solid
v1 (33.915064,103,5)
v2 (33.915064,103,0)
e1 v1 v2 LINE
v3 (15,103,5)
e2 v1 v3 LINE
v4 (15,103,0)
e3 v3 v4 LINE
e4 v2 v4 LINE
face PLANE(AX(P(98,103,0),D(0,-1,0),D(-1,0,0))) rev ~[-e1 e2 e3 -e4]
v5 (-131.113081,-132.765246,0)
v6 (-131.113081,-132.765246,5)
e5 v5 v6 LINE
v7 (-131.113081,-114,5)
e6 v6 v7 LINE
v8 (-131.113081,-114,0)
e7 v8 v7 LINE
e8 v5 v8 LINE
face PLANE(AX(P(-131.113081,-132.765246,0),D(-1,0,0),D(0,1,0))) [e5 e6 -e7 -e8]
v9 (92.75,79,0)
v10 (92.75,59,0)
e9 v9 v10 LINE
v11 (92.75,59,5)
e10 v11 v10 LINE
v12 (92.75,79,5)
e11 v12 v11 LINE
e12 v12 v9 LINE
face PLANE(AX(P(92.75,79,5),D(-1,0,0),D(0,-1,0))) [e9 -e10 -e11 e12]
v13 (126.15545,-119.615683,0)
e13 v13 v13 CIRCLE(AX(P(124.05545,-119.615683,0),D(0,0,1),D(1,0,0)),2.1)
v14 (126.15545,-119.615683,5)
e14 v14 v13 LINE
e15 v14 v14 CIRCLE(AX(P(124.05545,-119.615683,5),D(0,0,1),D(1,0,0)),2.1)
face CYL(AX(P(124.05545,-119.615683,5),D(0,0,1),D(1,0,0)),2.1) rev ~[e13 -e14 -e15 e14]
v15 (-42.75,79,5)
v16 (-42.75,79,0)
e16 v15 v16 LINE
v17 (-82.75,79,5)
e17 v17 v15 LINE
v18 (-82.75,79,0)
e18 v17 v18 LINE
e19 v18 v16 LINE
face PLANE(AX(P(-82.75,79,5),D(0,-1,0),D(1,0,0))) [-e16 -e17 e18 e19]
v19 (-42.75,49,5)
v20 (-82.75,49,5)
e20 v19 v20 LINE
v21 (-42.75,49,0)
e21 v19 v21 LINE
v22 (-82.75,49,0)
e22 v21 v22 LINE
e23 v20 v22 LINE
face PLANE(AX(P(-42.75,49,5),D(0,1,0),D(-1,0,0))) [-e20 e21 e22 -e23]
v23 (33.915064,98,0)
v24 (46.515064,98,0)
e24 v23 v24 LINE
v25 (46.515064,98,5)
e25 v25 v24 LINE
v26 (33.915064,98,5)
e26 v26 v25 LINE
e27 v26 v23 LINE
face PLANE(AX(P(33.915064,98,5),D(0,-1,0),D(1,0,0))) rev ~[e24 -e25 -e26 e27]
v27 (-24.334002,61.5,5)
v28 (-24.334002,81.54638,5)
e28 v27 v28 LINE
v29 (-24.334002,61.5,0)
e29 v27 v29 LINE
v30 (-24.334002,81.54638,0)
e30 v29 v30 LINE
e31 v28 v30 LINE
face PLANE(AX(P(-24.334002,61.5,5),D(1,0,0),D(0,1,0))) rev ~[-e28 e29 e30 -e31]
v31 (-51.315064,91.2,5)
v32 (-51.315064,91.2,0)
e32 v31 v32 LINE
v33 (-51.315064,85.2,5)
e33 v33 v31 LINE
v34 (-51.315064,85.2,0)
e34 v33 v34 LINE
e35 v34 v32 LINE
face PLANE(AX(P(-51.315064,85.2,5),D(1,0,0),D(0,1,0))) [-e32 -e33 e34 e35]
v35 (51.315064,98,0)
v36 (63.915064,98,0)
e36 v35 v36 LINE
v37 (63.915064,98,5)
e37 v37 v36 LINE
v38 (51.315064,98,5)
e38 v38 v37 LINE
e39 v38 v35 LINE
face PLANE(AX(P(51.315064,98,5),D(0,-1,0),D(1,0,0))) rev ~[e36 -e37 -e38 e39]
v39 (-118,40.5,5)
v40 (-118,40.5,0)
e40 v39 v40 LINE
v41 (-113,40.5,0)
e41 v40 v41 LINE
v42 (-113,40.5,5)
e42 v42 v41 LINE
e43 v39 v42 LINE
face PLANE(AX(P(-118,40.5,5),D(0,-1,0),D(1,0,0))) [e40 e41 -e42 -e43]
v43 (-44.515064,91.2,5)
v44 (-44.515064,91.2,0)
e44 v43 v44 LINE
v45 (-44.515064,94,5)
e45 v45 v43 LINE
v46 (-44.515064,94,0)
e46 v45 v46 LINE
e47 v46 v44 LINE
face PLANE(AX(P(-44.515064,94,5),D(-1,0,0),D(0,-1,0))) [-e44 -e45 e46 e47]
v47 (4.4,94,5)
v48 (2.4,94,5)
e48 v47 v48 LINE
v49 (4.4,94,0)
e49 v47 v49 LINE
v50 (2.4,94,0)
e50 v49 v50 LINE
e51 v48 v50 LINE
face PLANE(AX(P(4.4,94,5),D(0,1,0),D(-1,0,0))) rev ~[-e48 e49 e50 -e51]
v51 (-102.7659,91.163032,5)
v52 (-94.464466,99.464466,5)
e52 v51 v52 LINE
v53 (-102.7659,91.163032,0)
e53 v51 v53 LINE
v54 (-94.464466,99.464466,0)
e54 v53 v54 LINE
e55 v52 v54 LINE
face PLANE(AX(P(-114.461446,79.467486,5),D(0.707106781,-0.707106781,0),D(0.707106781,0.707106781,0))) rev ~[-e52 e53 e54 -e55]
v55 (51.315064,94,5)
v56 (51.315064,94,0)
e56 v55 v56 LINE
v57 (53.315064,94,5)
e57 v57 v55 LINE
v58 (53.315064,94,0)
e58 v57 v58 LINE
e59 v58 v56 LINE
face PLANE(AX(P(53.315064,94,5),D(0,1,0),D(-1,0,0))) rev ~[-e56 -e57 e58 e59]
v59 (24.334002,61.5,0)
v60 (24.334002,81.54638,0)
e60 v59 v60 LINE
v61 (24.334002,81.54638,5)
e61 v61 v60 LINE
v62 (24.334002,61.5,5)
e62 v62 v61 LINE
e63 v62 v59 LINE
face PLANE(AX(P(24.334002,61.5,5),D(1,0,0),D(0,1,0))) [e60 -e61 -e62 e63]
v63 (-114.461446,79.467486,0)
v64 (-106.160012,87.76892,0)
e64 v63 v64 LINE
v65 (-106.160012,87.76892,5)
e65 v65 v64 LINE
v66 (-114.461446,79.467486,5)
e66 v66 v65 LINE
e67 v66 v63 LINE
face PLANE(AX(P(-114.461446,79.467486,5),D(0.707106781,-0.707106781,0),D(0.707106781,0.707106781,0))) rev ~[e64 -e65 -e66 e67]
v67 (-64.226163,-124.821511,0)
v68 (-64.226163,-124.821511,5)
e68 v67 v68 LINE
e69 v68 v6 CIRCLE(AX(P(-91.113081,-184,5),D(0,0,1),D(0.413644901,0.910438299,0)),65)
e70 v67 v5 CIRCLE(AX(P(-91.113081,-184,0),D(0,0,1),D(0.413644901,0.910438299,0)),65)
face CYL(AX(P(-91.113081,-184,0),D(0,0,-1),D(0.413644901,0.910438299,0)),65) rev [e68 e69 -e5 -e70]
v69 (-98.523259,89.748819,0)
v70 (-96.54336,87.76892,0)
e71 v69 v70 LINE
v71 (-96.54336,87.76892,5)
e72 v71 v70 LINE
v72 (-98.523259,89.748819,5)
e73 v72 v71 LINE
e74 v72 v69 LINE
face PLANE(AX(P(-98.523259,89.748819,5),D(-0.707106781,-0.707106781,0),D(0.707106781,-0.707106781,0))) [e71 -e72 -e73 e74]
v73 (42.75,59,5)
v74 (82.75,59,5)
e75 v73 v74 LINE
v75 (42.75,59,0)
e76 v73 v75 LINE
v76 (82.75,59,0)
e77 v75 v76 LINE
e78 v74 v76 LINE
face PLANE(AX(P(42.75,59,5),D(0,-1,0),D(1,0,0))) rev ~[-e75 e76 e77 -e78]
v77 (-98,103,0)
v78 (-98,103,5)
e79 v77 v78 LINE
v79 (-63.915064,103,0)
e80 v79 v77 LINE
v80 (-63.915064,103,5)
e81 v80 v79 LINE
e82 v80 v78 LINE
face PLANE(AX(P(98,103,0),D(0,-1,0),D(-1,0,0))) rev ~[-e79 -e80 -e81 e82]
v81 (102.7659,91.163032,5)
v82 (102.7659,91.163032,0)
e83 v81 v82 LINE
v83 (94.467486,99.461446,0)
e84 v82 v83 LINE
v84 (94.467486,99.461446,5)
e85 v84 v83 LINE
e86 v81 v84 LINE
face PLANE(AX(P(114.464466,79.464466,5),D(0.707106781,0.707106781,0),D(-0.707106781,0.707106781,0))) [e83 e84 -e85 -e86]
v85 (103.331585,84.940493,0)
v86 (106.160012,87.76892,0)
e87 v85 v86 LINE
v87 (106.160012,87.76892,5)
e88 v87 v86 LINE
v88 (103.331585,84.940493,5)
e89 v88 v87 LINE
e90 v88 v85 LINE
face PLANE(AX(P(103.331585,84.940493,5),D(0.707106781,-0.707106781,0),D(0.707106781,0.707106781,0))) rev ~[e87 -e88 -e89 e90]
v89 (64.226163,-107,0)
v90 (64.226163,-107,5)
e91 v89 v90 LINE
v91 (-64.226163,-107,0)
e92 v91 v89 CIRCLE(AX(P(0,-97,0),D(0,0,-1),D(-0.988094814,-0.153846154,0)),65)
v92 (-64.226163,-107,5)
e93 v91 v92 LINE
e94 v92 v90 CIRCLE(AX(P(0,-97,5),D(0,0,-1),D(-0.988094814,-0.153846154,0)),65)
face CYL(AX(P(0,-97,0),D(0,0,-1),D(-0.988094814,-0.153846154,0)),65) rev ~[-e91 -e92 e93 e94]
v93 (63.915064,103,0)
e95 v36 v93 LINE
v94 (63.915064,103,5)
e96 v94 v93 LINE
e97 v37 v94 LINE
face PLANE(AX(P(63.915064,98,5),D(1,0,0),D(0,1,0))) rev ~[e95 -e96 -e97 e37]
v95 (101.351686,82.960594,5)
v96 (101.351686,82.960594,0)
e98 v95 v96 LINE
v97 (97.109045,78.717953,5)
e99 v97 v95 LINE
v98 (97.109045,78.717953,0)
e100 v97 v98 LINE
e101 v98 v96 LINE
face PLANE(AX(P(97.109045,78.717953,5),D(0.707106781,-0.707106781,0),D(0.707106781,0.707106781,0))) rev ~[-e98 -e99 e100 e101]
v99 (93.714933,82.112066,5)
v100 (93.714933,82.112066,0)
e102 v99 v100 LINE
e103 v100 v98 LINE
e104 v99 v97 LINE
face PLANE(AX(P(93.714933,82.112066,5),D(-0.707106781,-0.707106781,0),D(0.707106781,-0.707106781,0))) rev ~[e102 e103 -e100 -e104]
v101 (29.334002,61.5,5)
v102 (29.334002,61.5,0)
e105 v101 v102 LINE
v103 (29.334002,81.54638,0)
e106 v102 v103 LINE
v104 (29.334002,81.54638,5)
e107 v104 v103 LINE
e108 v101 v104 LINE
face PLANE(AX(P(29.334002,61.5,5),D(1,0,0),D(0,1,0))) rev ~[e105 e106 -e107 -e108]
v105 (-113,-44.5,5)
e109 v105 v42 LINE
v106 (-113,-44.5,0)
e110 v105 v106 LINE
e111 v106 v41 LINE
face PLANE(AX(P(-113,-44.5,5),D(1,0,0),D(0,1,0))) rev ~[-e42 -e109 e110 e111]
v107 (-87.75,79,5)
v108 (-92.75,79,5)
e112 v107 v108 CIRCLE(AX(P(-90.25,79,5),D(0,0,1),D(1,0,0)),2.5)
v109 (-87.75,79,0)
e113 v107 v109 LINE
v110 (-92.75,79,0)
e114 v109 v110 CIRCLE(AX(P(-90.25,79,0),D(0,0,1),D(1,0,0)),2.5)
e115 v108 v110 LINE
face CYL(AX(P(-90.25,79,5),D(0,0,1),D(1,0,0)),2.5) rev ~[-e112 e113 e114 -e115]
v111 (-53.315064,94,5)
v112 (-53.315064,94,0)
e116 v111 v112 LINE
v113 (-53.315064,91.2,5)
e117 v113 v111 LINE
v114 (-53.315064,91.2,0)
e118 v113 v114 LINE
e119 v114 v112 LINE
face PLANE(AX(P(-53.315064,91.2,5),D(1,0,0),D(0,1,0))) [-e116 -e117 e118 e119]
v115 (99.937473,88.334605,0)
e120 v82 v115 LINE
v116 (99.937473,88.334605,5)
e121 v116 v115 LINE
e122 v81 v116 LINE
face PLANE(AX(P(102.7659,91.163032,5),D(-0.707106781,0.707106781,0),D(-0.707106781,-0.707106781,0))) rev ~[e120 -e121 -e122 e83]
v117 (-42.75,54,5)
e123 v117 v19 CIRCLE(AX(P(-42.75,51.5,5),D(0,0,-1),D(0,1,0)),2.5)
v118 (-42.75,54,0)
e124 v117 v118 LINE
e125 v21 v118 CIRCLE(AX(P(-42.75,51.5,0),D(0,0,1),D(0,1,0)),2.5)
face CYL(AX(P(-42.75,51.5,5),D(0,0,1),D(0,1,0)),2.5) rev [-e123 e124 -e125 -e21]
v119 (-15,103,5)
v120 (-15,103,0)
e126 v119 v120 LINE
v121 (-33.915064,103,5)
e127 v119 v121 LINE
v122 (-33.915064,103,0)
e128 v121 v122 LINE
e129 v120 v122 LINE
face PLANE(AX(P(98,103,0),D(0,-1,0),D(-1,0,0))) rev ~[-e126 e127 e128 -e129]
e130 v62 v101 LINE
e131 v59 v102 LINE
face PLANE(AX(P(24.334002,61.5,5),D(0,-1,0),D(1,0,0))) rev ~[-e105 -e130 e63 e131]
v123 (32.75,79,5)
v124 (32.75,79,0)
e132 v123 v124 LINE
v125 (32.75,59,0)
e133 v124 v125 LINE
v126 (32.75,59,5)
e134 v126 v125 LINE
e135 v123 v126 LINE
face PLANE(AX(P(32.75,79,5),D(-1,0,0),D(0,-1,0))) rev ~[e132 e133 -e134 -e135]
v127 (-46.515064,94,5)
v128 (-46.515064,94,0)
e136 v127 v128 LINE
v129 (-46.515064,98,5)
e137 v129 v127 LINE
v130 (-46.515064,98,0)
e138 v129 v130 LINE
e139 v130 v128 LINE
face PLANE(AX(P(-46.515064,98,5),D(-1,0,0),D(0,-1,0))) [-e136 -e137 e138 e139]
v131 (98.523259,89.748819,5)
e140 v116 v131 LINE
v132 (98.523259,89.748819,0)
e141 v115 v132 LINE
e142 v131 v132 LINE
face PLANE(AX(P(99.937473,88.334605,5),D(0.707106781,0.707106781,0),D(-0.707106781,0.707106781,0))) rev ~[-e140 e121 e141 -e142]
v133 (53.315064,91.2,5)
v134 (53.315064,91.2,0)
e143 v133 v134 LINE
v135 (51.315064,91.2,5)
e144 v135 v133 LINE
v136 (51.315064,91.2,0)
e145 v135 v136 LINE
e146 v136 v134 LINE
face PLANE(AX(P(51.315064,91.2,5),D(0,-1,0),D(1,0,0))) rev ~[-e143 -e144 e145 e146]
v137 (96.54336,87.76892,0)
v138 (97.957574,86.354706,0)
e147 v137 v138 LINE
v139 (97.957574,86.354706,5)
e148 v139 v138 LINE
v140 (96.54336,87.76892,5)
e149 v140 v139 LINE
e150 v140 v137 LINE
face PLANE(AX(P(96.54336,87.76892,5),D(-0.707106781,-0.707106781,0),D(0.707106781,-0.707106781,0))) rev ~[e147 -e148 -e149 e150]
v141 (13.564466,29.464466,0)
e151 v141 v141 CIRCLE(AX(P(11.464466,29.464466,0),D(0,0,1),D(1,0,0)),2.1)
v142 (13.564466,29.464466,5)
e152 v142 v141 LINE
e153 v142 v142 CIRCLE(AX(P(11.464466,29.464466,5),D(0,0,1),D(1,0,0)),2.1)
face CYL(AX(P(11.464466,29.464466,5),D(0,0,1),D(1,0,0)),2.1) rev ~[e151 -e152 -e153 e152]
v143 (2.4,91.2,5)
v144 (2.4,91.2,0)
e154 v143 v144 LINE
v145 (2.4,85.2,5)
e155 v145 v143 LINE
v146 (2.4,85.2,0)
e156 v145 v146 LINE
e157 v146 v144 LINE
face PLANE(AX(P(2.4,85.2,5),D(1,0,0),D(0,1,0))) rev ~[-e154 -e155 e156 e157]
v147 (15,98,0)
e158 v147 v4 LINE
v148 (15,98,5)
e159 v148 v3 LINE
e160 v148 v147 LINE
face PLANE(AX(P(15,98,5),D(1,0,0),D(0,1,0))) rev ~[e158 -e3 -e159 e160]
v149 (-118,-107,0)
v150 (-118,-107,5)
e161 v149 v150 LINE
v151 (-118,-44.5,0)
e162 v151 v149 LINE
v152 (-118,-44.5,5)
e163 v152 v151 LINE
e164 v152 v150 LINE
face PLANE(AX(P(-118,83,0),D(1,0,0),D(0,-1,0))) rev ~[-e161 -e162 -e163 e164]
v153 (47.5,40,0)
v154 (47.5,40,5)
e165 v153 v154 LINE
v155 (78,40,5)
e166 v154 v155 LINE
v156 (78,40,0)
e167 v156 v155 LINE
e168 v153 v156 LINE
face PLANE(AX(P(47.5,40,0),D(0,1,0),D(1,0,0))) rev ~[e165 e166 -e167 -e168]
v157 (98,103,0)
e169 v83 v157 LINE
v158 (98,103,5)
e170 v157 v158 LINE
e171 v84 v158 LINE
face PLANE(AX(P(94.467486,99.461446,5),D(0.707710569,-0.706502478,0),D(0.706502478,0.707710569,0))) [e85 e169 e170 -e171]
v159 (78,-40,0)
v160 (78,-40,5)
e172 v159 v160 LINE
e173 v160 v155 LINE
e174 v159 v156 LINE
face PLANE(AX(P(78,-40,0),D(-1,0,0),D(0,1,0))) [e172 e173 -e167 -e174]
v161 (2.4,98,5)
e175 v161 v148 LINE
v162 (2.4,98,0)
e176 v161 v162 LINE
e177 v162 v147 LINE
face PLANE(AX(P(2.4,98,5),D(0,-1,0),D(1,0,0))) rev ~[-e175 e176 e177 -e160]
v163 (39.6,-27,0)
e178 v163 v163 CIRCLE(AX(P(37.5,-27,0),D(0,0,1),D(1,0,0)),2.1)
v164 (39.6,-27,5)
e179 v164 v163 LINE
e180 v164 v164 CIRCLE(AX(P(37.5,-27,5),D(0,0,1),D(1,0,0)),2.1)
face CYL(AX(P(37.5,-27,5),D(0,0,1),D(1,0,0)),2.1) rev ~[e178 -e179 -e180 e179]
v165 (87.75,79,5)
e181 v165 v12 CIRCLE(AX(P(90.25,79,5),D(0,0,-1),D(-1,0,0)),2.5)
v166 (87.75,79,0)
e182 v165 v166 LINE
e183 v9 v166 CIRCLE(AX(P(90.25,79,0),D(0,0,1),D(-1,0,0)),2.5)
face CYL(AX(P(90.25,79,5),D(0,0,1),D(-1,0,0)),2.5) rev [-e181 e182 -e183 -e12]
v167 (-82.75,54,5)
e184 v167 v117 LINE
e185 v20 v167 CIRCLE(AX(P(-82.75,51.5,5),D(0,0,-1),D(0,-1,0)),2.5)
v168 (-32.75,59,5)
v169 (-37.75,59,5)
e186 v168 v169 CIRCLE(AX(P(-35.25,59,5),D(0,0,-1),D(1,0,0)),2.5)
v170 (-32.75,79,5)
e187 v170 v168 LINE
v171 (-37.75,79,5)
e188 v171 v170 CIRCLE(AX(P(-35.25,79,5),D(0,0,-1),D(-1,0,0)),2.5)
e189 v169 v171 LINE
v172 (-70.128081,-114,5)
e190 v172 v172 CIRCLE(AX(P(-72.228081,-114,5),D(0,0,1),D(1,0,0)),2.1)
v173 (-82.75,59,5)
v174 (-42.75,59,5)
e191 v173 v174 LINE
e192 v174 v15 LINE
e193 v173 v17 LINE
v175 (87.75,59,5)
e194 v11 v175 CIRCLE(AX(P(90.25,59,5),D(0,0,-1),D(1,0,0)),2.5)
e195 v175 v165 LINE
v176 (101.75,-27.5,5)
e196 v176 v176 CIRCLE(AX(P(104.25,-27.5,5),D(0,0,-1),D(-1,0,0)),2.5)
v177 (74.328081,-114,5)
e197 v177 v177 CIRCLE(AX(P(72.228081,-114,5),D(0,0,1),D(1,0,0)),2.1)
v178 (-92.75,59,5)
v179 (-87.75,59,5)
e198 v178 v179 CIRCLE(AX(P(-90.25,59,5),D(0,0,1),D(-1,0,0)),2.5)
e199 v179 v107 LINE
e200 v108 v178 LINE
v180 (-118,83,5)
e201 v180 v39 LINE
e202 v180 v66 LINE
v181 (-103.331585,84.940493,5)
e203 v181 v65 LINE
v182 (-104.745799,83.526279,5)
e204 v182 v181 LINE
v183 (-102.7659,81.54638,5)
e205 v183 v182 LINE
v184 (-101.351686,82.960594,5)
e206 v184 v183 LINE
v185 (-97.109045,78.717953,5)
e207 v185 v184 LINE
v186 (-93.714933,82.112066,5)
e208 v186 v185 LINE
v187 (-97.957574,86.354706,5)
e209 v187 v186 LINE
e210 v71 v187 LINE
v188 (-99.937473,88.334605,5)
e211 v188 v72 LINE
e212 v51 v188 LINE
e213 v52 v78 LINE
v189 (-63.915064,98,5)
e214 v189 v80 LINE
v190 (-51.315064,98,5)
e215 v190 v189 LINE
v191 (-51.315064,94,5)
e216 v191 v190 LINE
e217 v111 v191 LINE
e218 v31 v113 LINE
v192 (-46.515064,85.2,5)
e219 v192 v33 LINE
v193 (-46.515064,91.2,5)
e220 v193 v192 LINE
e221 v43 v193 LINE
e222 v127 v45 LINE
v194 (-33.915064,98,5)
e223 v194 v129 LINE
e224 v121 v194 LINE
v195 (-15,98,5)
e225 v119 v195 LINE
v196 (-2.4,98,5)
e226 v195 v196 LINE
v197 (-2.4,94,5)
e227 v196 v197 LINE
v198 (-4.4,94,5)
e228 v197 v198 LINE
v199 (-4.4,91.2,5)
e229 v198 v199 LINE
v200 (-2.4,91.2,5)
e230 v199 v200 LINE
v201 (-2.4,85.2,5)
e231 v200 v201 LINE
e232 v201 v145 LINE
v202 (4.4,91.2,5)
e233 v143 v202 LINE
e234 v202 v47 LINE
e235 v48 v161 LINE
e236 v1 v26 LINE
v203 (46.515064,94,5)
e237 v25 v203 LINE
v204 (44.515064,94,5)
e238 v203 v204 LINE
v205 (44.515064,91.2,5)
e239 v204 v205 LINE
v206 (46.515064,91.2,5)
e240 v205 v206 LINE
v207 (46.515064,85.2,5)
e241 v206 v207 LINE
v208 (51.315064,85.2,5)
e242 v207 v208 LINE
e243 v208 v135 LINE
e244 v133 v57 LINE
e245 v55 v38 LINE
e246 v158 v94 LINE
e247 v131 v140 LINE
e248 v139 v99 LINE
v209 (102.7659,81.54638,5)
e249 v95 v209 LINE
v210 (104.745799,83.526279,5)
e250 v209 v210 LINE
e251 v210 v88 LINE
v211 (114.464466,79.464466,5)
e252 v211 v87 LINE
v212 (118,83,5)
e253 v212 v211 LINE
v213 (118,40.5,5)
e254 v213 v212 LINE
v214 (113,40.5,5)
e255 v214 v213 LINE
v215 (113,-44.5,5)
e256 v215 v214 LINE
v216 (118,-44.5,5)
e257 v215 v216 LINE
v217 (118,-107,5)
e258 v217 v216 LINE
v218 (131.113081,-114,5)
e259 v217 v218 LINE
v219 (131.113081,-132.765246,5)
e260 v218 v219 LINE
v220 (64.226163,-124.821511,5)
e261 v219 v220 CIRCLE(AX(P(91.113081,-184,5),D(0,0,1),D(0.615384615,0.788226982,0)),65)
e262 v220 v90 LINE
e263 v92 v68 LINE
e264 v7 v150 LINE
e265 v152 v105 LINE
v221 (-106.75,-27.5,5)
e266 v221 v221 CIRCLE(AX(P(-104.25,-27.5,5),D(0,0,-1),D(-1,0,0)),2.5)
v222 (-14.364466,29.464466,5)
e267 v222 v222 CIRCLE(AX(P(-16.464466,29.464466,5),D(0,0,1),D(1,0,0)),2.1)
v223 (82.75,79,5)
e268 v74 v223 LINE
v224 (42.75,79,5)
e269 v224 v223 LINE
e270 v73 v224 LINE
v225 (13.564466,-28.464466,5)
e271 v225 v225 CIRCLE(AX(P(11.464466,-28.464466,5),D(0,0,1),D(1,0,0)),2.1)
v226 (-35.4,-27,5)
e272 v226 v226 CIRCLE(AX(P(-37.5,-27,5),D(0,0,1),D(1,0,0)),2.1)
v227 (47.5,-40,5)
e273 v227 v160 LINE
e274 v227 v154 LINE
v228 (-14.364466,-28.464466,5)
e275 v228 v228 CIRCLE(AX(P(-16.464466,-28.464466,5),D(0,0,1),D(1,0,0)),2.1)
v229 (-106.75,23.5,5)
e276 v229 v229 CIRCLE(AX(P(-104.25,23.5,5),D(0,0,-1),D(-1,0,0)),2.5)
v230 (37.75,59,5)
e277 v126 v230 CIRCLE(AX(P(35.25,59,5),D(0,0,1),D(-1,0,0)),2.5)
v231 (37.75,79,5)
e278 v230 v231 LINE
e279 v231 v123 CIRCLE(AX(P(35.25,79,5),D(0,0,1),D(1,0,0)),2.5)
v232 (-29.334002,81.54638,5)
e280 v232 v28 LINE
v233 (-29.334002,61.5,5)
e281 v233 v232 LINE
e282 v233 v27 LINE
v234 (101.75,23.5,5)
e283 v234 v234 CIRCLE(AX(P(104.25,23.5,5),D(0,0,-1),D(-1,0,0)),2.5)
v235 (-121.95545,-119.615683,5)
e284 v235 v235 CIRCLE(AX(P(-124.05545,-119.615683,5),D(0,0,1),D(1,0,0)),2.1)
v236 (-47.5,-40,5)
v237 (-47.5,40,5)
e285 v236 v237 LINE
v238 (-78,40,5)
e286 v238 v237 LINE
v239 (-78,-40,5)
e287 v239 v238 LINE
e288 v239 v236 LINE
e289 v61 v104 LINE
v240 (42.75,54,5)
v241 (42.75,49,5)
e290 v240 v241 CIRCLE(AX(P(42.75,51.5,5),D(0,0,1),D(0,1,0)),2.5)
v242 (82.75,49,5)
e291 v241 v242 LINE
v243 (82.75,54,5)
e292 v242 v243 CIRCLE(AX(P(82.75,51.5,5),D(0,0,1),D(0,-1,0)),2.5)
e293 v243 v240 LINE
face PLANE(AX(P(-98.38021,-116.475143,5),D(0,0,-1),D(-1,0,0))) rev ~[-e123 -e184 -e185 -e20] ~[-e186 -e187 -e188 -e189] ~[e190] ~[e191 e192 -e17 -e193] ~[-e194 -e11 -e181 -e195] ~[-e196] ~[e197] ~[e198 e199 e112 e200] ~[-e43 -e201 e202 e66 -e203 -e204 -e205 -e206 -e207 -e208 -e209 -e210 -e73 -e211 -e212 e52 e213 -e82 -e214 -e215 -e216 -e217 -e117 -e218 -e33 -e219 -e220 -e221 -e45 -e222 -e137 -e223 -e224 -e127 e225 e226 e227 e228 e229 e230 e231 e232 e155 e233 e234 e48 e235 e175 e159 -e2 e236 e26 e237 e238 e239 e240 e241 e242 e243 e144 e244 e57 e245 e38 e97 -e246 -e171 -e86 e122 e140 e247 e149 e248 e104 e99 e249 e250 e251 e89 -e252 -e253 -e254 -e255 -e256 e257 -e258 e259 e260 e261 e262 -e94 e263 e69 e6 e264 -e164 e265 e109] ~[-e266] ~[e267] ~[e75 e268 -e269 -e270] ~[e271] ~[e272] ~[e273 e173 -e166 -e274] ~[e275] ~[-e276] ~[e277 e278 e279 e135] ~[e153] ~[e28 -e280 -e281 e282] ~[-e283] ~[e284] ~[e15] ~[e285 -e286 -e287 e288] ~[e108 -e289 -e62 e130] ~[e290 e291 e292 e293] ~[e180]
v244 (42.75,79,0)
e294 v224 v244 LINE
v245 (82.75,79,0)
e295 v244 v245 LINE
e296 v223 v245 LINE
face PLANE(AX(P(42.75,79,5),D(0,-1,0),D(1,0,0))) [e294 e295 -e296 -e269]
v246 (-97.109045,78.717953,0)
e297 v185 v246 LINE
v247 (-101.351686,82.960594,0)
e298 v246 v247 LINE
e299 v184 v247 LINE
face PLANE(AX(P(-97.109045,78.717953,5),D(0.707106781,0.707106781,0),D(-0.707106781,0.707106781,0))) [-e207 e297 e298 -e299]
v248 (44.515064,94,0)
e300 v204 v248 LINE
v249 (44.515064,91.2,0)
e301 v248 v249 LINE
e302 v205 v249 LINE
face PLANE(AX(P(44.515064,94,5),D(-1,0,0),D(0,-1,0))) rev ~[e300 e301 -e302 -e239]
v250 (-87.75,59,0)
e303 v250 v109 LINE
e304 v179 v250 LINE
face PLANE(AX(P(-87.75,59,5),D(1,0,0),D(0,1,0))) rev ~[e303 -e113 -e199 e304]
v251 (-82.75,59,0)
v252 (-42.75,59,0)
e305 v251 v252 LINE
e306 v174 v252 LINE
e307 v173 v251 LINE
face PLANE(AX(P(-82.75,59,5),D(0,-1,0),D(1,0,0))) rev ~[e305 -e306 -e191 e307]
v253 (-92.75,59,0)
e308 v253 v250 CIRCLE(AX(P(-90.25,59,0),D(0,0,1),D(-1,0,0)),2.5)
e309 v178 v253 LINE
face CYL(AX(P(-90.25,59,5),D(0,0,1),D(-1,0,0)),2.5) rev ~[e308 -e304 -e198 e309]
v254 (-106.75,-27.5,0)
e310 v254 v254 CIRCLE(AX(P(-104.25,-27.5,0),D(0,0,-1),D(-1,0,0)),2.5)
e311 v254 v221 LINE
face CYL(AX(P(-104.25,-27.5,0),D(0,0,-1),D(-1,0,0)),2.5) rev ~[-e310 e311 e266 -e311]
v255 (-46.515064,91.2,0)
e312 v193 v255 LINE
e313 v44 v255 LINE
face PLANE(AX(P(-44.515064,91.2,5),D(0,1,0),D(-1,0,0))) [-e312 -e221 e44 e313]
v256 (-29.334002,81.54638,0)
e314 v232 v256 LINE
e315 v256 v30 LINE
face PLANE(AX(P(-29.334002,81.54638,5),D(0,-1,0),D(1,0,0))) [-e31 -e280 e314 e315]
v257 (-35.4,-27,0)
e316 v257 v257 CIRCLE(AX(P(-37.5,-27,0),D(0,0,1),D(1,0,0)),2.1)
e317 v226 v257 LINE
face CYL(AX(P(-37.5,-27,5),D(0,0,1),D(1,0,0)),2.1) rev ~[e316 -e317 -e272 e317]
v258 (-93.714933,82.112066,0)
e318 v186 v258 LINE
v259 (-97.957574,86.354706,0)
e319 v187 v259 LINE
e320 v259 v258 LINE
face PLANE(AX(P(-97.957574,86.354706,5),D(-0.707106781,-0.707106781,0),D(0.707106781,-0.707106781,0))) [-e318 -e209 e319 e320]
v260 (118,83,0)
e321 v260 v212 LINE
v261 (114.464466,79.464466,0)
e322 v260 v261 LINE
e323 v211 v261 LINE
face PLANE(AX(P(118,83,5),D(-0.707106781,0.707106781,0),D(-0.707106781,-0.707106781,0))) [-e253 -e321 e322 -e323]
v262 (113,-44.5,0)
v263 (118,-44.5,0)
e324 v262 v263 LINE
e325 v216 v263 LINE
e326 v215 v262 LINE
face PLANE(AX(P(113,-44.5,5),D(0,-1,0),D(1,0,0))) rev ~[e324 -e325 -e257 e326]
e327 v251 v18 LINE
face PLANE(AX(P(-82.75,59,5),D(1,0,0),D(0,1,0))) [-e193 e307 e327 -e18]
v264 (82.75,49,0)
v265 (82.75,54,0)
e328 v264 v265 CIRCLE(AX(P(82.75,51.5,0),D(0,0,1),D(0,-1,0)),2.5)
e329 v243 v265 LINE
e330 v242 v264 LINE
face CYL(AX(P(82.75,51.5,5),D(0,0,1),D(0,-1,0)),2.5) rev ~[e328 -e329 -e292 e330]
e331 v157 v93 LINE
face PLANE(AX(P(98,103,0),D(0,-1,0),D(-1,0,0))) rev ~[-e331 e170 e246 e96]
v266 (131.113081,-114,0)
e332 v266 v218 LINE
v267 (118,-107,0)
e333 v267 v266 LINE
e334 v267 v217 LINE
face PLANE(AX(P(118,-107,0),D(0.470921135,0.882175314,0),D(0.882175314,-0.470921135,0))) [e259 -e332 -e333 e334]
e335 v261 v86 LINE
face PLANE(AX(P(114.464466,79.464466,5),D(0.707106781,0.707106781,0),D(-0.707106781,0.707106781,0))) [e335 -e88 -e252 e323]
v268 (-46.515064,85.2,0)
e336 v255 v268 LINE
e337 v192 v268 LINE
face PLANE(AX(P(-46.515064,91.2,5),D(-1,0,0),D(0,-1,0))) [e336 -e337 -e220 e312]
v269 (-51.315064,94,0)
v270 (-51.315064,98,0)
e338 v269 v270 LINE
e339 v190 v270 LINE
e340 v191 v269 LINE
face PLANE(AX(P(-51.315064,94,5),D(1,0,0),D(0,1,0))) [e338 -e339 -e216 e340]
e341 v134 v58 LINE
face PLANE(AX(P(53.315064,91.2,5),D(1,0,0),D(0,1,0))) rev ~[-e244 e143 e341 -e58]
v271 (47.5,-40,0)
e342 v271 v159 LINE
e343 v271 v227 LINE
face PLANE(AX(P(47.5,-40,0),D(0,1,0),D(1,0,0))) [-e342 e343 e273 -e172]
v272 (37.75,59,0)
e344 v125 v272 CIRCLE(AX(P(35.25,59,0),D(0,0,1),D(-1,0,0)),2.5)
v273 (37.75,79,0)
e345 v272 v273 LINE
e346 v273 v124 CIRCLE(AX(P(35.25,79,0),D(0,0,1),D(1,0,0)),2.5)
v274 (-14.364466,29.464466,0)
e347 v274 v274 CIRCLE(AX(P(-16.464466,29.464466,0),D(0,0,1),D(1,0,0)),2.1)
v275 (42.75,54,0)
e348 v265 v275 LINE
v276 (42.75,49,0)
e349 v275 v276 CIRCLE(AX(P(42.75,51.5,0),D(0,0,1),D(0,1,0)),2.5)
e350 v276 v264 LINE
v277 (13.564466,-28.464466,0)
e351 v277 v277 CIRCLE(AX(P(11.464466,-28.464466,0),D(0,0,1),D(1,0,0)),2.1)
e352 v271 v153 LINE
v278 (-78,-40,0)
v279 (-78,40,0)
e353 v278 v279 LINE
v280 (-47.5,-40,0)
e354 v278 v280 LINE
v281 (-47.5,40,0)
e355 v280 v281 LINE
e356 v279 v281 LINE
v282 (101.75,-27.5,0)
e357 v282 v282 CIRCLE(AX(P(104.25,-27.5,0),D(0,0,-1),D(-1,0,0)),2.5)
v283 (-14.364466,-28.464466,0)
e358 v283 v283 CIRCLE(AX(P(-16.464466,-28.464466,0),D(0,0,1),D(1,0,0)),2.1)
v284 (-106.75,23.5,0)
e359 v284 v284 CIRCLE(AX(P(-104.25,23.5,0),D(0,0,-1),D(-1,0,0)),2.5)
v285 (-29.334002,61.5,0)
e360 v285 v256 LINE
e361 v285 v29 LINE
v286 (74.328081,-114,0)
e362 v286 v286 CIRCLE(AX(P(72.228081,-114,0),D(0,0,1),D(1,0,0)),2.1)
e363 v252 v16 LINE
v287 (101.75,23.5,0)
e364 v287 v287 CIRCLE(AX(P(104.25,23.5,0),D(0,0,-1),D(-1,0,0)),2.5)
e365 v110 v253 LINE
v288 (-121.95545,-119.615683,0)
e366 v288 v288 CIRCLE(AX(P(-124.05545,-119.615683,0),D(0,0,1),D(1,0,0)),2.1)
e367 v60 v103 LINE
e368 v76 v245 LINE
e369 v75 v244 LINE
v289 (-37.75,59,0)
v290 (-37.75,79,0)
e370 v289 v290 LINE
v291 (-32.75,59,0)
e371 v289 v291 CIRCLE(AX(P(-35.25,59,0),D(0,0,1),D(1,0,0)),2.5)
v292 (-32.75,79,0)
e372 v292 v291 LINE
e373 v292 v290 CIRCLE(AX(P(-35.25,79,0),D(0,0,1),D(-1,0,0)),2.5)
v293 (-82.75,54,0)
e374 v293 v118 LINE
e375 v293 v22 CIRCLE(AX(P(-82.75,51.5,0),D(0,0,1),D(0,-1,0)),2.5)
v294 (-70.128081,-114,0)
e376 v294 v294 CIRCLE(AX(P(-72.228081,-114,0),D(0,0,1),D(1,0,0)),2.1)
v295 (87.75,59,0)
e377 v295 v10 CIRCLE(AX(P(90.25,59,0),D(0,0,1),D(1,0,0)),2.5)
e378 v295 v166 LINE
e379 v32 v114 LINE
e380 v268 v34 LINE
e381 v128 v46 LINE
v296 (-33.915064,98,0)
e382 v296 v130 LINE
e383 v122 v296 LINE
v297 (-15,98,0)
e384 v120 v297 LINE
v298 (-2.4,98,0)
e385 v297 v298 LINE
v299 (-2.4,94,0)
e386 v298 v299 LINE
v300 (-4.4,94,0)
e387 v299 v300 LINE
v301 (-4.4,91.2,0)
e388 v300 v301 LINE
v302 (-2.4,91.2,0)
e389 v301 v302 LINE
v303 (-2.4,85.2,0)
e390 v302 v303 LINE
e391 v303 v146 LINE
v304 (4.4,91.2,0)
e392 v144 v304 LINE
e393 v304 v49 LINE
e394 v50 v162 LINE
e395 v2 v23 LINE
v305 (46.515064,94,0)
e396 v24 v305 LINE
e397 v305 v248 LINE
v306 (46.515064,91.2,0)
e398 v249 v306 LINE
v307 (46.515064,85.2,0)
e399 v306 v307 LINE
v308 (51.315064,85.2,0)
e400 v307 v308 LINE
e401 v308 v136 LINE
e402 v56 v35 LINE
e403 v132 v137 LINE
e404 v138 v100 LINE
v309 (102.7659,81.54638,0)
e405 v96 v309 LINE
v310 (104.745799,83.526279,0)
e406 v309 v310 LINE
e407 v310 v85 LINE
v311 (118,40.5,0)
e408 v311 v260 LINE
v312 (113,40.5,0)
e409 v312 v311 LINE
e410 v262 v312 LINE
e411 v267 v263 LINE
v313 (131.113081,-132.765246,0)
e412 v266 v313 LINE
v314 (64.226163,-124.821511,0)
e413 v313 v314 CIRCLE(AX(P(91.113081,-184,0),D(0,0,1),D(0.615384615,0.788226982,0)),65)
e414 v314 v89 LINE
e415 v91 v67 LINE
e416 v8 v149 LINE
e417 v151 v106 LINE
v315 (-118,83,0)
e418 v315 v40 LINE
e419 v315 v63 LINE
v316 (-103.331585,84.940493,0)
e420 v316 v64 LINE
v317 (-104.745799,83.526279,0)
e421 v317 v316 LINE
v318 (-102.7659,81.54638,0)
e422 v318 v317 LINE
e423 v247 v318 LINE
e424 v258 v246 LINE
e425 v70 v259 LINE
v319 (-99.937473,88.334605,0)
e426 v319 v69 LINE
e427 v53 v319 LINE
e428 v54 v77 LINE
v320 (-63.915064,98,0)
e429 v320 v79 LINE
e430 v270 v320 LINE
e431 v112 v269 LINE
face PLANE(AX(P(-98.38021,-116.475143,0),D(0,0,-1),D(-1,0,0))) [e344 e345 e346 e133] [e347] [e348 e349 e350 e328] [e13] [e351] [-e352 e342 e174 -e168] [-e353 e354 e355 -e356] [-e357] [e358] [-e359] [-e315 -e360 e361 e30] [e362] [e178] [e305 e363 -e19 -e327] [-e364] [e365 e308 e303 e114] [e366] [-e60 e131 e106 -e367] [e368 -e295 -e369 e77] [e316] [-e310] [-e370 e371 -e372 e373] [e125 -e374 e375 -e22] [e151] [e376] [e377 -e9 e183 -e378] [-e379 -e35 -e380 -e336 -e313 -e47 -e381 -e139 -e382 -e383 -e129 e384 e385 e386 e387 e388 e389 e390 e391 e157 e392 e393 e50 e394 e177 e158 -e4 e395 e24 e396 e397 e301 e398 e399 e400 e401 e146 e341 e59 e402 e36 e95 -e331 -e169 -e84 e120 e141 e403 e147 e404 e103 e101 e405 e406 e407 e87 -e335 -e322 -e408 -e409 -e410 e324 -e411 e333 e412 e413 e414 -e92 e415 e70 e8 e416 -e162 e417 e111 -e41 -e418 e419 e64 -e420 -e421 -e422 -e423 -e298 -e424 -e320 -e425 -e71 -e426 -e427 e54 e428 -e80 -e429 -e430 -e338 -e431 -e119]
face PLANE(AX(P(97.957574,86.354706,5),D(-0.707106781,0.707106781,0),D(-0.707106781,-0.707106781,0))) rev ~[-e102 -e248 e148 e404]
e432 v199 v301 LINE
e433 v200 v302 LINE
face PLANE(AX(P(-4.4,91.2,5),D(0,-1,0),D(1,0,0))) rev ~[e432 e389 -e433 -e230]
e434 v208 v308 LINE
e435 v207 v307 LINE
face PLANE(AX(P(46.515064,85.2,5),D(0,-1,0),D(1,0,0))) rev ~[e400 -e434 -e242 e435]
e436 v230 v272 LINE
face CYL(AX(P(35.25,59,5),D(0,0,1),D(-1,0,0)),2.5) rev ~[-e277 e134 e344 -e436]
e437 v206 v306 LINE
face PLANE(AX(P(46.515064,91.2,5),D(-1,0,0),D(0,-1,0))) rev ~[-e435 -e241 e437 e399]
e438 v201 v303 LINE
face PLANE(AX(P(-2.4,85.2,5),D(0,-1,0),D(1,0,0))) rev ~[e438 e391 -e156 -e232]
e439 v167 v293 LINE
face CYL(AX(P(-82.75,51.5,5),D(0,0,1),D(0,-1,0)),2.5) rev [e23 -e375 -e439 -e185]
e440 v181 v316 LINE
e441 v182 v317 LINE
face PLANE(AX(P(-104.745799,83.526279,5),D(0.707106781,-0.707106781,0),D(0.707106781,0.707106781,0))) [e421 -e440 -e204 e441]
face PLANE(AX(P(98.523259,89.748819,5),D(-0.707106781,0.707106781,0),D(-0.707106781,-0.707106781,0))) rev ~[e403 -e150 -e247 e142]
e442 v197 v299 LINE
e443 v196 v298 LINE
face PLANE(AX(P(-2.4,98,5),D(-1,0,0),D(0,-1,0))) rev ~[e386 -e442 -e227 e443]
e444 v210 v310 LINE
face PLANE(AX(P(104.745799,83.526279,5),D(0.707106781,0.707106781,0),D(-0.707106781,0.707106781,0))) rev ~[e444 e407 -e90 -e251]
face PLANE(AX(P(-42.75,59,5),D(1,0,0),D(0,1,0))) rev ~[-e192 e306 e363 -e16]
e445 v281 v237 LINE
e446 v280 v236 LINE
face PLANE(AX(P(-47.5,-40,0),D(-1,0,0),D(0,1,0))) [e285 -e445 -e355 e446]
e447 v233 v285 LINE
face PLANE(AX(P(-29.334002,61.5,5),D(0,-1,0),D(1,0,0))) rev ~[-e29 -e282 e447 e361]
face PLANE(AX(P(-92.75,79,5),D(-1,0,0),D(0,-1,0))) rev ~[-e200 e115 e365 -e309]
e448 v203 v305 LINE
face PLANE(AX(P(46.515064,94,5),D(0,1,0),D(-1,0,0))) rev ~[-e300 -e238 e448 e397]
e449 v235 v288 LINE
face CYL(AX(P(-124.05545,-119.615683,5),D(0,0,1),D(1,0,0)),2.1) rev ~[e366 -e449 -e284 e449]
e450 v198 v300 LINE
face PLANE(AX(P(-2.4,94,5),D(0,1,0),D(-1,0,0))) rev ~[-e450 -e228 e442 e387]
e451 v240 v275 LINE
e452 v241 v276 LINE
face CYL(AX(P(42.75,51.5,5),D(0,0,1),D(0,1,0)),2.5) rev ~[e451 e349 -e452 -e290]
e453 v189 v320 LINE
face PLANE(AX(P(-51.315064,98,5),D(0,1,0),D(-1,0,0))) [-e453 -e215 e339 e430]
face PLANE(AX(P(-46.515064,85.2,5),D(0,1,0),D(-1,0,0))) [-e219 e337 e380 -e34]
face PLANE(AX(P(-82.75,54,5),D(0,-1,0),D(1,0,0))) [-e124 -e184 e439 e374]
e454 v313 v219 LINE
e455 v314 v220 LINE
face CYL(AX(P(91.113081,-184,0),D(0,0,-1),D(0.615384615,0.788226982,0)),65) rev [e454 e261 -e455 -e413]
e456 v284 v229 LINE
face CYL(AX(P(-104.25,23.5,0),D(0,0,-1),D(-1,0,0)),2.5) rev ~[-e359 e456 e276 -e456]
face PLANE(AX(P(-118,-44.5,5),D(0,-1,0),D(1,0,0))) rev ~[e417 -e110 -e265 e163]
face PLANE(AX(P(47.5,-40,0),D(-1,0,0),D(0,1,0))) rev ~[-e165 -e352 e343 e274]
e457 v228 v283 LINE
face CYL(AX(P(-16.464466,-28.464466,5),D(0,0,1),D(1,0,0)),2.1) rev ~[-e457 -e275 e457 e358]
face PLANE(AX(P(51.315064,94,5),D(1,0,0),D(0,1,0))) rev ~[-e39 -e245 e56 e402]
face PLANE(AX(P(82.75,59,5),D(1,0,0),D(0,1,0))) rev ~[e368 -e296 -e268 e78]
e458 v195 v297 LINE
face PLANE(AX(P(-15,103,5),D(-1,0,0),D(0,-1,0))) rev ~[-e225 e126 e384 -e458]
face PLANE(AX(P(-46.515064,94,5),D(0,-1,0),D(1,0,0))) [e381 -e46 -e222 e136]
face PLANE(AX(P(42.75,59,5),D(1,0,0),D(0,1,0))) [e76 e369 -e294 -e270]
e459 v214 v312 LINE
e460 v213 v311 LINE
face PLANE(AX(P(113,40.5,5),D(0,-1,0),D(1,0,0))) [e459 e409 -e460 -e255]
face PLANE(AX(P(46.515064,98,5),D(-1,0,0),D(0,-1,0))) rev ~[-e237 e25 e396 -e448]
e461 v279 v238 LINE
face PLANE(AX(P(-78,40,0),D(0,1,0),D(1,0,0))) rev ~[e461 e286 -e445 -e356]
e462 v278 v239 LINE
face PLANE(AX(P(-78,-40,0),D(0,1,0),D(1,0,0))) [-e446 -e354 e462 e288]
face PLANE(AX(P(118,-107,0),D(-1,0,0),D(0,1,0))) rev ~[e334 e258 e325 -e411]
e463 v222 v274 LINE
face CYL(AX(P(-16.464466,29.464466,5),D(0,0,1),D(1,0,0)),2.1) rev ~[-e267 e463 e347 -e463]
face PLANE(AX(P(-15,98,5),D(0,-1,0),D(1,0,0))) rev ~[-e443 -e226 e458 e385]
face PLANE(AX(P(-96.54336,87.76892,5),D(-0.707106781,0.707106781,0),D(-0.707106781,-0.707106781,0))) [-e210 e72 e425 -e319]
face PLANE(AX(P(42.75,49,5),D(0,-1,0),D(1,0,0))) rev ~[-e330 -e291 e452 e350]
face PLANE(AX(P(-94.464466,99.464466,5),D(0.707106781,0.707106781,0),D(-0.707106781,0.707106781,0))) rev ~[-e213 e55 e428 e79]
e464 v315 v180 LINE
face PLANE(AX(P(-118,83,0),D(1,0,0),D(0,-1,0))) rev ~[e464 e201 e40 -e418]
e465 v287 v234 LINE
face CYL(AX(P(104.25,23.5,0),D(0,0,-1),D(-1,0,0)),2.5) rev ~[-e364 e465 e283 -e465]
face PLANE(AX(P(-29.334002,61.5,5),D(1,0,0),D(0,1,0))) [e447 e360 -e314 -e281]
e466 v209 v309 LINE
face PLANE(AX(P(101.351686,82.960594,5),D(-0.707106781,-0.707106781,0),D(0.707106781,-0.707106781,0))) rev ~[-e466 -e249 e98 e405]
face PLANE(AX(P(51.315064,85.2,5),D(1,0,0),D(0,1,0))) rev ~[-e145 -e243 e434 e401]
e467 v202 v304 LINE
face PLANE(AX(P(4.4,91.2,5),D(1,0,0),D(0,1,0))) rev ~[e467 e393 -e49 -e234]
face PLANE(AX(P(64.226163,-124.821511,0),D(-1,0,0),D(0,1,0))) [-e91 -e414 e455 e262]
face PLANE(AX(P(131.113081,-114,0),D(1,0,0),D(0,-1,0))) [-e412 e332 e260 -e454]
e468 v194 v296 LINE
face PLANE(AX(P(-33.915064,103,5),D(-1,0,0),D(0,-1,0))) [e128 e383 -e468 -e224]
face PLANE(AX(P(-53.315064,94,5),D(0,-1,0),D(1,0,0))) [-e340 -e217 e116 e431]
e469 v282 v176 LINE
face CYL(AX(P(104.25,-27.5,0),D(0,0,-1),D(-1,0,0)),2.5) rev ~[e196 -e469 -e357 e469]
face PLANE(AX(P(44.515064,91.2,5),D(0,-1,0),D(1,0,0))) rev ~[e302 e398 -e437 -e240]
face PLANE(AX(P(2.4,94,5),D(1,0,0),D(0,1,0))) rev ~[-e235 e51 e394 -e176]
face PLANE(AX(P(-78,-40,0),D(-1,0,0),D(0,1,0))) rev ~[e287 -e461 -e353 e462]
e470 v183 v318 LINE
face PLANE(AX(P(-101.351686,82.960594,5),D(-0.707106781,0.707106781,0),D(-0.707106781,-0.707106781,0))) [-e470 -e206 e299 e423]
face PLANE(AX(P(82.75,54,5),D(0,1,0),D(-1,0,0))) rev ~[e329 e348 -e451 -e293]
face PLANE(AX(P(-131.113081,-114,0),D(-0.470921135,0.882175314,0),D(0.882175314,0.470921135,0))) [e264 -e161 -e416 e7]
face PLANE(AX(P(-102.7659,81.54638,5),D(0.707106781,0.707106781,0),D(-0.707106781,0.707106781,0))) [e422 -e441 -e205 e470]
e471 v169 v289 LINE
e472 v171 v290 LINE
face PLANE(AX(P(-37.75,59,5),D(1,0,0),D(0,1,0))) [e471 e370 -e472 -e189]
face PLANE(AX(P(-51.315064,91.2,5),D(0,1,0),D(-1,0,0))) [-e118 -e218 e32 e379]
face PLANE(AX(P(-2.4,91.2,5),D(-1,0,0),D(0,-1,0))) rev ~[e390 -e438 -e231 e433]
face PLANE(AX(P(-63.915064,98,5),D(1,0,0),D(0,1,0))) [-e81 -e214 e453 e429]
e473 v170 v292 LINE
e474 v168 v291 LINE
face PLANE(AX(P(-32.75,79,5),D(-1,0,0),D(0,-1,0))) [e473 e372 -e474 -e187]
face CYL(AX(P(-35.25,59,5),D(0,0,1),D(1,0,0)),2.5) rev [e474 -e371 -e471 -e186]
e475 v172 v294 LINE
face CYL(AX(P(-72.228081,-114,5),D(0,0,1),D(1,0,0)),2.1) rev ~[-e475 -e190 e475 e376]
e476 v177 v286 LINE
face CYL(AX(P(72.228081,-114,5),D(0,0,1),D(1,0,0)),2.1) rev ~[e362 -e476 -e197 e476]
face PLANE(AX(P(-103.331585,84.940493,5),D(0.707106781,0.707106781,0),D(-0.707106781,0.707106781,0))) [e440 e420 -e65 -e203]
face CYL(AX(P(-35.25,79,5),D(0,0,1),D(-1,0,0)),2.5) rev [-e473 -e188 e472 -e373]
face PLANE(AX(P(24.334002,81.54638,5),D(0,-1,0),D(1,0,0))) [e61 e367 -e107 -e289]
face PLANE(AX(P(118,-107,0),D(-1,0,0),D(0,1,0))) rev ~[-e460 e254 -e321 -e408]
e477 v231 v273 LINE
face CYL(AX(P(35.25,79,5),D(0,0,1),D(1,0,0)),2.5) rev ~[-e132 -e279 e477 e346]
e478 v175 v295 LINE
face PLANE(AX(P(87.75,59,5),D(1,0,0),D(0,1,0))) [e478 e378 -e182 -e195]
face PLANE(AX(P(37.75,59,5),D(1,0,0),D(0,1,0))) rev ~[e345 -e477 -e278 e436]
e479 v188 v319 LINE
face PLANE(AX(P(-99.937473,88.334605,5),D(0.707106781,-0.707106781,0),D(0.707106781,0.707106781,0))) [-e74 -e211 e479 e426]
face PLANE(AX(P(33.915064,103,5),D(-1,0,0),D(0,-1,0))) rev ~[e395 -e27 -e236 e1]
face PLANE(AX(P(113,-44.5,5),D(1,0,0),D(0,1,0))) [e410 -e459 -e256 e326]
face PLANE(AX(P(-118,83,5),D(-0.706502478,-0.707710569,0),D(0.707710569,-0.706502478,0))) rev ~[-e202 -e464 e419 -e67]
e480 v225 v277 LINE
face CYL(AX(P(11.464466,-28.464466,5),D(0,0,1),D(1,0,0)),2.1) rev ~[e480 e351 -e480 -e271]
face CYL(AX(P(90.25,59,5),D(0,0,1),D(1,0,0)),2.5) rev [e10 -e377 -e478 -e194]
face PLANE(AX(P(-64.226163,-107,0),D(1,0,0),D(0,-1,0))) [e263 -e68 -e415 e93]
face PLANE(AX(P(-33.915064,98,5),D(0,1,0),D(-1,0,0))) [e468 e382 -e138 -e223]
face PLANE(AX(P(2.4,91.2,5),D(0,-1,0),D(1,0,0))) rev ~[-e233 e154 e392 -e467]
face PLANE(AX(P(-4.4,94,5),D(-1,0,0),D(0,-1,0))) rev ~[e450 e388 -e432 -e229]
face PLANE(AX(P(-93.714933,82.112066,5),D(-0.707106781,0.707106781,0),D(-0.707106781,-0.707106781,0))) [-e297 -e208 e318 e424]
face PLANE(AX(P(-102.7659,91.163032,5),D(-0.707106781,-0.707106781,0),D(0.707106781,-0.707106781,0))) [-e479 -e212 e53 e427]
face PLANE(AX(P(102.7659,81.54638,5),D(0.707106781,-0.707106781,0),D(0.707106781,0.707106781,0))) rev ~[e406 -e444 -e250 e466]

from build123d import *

# Parameters (mm, degrees)
SKETCH1_W           = 30.5
SKETCH1_H           = 80
BOSS_EXTRUDE1_DEPTH = 5
SKETCH4_W           = 5
SKETCH4_H           = 85
CUT_EXTRUDE3_DEPTH  = 6
SKETCH5_R           = 2.5
CUT_EXTRUDE4_DEPTH  = 6
CUT_EXTRUDE6_DEPTH  = 6
SKETCH8_R           = 2.1
CUT_EXTRUDE7_DEPTH  = 6
CUT_EXTRUDE8_DEPTH  = 5
SKETCH10_W          = 40
SKETCH10_H          = 20
CUT_EXTRUDE9_DEPTH  = 6
SKETCH13_W          = 5
SKETCH13_H          = 20.046380259
CUT_EXTRUDE10_DEPTH = 10
BOSS_EXTRUDE2_DEPTH = 5
SKETCH16_R          = 2.1
CUT_EXTRUDE12_DEPTH = 10
SKETCH17_R          = 2.1
CUT_EXTRUDE13_DEPTH = 6


with BuildPart() as part:
    # Sketch1 → Boss-Extrude1 (new body)
    with BuildSketch(Plane.XY):
        with BuildLine():
            Line((64.226162893, -107), (118, -107))
            Line((118, -107), (118, 83))
            Line((118, 83), (98, 103))
            Line((98, 103), (-98, 103))
            Line((-98, 103), (-118, 83))
            Line((-118, 83), (-118, -107))
            Line((-118, -107), (-64.226162893, -107))
            ThreePointArc((-64.226162893, -107), (0, -32), (64.226162893, -107))
        make_face()
        with Locations((62.75, 0)):
            Rectangle(SKETCH1_W, SKETCH1_H, mode=Mode.SUBTRACT)
        with Locations((-62.75, 0)):
            Rectangle(SKETCH1_W, SKETCH1_H, mode=Mode.SUBTRACT)
    extrude(amount=BOSS_EXTRUDE1_DEPTH)

    # Sketch4 → Cut-Extrude3 (cut, through all)
    with BuildSketch(Plane.XY.offset(5)):
        with Locations((-115.5, -2)):
            Rectangle(SKETCH4_W, SKETCH4_H)
        with Locations((115.5, -2)):
            Rectangle(SKETCH4_W, SKETCH4_H)
    extrude(amount=-CUT_EXTRUDE3_DEPTH, mode=Mode.SUBTRACT)

    # Sketch5 → Cut-Extrude4 (cut, through all)
    with BuildSketch(Plane(origin=(0, 0, 0), x_dir=(-1, 0, 0), z_dir=(0, 0, -1))):
        with Locations((-104.25, 23.5)):
            Circle(SKETCH5_R)
        with Locations((-104.25, -27.5)):
            Circle(SKETCH5_R)
        with Locations((104.25, 23.5)):
            Circle(SKETCH5_R)
        with Locations((104.25, -27.5)):
            Circle(SKETCH5_R)
    extrude(amount=-CUT_EXTRUDE4_DEPTH, mode=Mode.SUBTRACT)

    # Sketch7 → Cut-Extrude6 (cut, through all)
    with BuildSketch(Plane.XY.offset(5)):
        Polygon((-15, 98), (-2.4, 98), (-2.4, 94), (-4.4, 94), (-4.4, 91.2), (-2.4, 91.2), (-2.4, 85.2), (2.4, 85.2), (2.4, 91.2), (4.4, 91.2), (4.4, 94), (2.4, 94), (2.4, 98), (15, 98), (15, 103), (-15, 103), align=None)
        Polygon((-51.315063509, 98), (-63.915063509, 98), (-63.915063509, 103), (-33.915063509, 103), (-33.915063509, 98), (-46.515063509, 98), (-46.515063509, 94), (-44.515063509, 94), (-44.515063509, 91.2), (-46.515063509, 91.2), (-46.515063509, 85.2), (-51.315063509, 85.2), (-51.315063509, 91.2), (-53.315063509, 91.2), (-53.315063509, 94), (-51.315063509, 94), align=None)
        Polygon((-102.765899705, 91.163032483), (-99.93747258, 88.334605358), (-98.523259018, 89.748818921), (-96.543360031, 87.768919933), (-97.957573593, 86.354706371), (-93.714932906, 82.112065684), (-97.109045456, 78.717953134), (-101.351686143, 82.960593821), (-102.765899705, 81.546380259), (-104.745798693, 83.526279246), (-103.33158513, 84.940492808), (-106.160012255, 87.768919933), align=None)
        Polygon((93.714932906, 82.112065684), (97.109045456, 78.717953134), (101.351686143, 82.960593821), (102.765899705, 81.546380259), (104.745798693, 83.526279246), (103.33158513, 84.940492808), (106.160012255, 87.768919933), (102.765899705, 91.163032483), (99.93747258, 88.334605358), (98.523259018, 89.748818921), (96.543360031, 87.768919933), (97.957573593, 86.354706371), align=None)
        Polygon((33.915063509, 98), (46.515063509, 98), (46.515063509, 94), (44.515063509, 94), (44.515063509, 91.2), (46.515063509, 91.2), (46.515063509, 85.2), (51.315063509, 85.2), (51.315063509, 91.2), (53.315063509, 91.2), (53.315063509, 94), (51.315063509, 94), (51.315063509, 98), (63.915063509, 98), (63.915063509, 103), (33.915063509, 103), align=None)
    extrude(amount=-CUT_EXTRUDE6_DEPTH, mode=Mode.SUBTRACT)

    # Sketch8 → Cut-Extrude7 (cut, through all)
    with BuildSketch(Plane.XY.offset(5)):
        with Locations((-37.5, -27)):
            Circle(SKETCH8_R)
        with Locations((37.5, -27)):
            Circle(SKETCH8_R)
    extrude(amount=-CUT_EXTRUDE7_DEPTH, mode=Mode.SUBTRACT)

    # Sketch9 → Cut-Extrude8 (cut)
    with BuildSketch(Plane.XY.offset(5)):
        Polygon((94.467486322, 99.461445866), (98, 103), (118, 83), (114.464466094, 79.464466094), align=None)
        Polygon((-118, 83), (-114.461445866, 79.467486322), (-94.464466094, 99.464466094), (-98, 103), align=None)
    extrude(amount=-CUT_EXTRUDE8_DEPTH, mode=Mode.SUBTRACT)

    # Sketch10 → Cut-Extrude9 (cut, through all)
    with BuildSketch(Plane.XY.offset(5)):
        with Locations((62.75, 69)):
            Rectangle(SKETCH10_W, SKETCH10_H)
        with Locations((-62.75, 69)):
            Rectangle(SKETCH10_W, SKETCH10_H)
        with BuildLine():
            Line((-82.75, 54), (-42.75, 54))
            ThreePointArc((-42.75, 54), (-40.25, 51.5), (-42.75, 49))
            Line((-42.75, 49), (-82.75, 49))
            ThreePointArc((-82.75, 49), (-85.25, 51.5), (-82.75, 54))
        make_face()
        with BuildLine():
            Line((-32.75, 79), (-32.75, 59))
            ThreePointArc((-32.75, 59), (-35.25, 56.5), (-37.75, 59))
            Line((-37.75, 59), (-37.75, 79))
            ThreePointArc((-37.75, 79), (-35.25, 81.5), (-32.75, 79))
        make_face()
        with BuildLine():
            Line((-92.75, 79), (-92.75, 59))
            ThreePointArc((-92.75, 59), (-90.25, 56.5), (-87.75, 59))
            Line((-87.75, 59), (-87.75, 79))
            ThreePointArc((-87.75, 79), (-90.25, 81.5), (-92.75, 79))
        make_face()
        with BuildLine():
            Line((82.75, 54), (42.75, 54))
            ThreePointArc((42.75, 54), (40.25, 51.5), (42.75, 49))
            Line((42.75, 49), (82.75, 49))
            ThreePointArc((82.75, 49), (85.25, 51.5), (82.75, 54))
        make_face()
        with BuildLine():
            Line((32.75, 79), (32.75, 59))
            ThreePointArc((32.75, 59), (35.25, 56.5), (37.75, 59))
            Line((37.75, 59), (37.75, 79))
            ThreePointArc((37.75, 79), (35.25, 81.5), (32.75, 79))
        make_face()
        with BuildLine():
            Line((92.75, 79), (92.75, 59))
            ThreePointArc((92.75, 59), (90.25, 56.5), (87.75, 59))
            Line((87.75, 59), (87.75, 79))
            ThreePointArc((87.75, 79), (90.25, 81.5), (92.75, 79))
        make_face()
    extrude(amount=-CUT_EXTRUDE9_DEPTH, mode=Mode.SUBTRACT)

    # Sketch13 → Cut-Extrude10 (cut)
    with BuildSketch(Plane.XY.offset(5)):
        with Locations((-26.83400194, 71.52319013)):
            Rectangle(SKETCH13_W, SKETCH13_H)
        with Locations((26.83400194, 71.52319013)):
            Rectangle(SKETCH13_W, SKETCH13_H)
    extrude(amount=-CUT_EXTRUDE10_DEPTH, mode=Mode.SUBTRACT)

    # Sketch14 → Boss-Extrude2 (add)
    with BuildSketch(Plane(origin=(0, 0, 0), x_dir=(-1, 0, 0), z_dir=(0, 0, -1))):
        with BuildLine():
            Line((131.113081447, -114), (118, -107))
            Line((118, -107), (64.226162893, -107))
            Line((64.226162893, -107), (64.226162893, -124.821510574))
            ThreePointArc((64.226162893, -124.821510574), (98.778846905, -119.45361327), (131.113081447, -132.76524617))
            Line((131.113081447, -132.76524617), (131.113081447, -114))
        make_face()
        with BuildLine():
            Line((-64.226162893, -107), (-118, -107))
            Line((-118, -107), (-131.113081447, -114))
            Line((-131.113081447, -114), (-131.113081447, -132.76524617))
            ThreePointArc((-131.113081447, -132.76524617), (-98.778846905, -119.45361327), (-64.226162893, -124.821510574))
            Line((-64.226162893, -124.821510574), (-64.226162893, -107))
        make_face()
    extrude(amount=-BOSS_EXTRUDE2_DEPTH)

    # Sketch16 → Cut-Extrude12 (cut)
    with BuildSketch(Plane.XY.offset(5)):
        with Locations((124.055449987, -119.615682924)):
            Circle(SKETCH16_R)
        with Locations((72.228081447, -114)):
            Circle(SKETCH16_R)
        with Locations((-72.228081447, -114)):
            Circle(SKETCH16_R)
        with Locations((-124.055449987, -119.615682924)):
            Circle(SKETCH16_R)
    extrude(amount=-CUT_EXTRUDE12_DEPTH, mode=Mode.SUBTRACT)

    # Sketch17 → Cut-Extrude13 (cut, through all)
    with BuildSketch(Plane.XY.offset(5)):
        with Locations((-16.464466094, 29.464466094)):
            Circle(SKETCH17_R)
        with Locations((11.464466094, 29.464466094)):
            Circle(SKETCH17_R)
        with Locations((11.464466094, -28.464466094)):
            Circle(SKETCH17_R)
        with Locations((-16.464466094, -28.464466094)):
            Circle(SKETCH17_R)
    extrude(amount=-CUT_EXTRUDE13_DEPTH, mode=Mode.SUBTRACT)


solid = part.part
